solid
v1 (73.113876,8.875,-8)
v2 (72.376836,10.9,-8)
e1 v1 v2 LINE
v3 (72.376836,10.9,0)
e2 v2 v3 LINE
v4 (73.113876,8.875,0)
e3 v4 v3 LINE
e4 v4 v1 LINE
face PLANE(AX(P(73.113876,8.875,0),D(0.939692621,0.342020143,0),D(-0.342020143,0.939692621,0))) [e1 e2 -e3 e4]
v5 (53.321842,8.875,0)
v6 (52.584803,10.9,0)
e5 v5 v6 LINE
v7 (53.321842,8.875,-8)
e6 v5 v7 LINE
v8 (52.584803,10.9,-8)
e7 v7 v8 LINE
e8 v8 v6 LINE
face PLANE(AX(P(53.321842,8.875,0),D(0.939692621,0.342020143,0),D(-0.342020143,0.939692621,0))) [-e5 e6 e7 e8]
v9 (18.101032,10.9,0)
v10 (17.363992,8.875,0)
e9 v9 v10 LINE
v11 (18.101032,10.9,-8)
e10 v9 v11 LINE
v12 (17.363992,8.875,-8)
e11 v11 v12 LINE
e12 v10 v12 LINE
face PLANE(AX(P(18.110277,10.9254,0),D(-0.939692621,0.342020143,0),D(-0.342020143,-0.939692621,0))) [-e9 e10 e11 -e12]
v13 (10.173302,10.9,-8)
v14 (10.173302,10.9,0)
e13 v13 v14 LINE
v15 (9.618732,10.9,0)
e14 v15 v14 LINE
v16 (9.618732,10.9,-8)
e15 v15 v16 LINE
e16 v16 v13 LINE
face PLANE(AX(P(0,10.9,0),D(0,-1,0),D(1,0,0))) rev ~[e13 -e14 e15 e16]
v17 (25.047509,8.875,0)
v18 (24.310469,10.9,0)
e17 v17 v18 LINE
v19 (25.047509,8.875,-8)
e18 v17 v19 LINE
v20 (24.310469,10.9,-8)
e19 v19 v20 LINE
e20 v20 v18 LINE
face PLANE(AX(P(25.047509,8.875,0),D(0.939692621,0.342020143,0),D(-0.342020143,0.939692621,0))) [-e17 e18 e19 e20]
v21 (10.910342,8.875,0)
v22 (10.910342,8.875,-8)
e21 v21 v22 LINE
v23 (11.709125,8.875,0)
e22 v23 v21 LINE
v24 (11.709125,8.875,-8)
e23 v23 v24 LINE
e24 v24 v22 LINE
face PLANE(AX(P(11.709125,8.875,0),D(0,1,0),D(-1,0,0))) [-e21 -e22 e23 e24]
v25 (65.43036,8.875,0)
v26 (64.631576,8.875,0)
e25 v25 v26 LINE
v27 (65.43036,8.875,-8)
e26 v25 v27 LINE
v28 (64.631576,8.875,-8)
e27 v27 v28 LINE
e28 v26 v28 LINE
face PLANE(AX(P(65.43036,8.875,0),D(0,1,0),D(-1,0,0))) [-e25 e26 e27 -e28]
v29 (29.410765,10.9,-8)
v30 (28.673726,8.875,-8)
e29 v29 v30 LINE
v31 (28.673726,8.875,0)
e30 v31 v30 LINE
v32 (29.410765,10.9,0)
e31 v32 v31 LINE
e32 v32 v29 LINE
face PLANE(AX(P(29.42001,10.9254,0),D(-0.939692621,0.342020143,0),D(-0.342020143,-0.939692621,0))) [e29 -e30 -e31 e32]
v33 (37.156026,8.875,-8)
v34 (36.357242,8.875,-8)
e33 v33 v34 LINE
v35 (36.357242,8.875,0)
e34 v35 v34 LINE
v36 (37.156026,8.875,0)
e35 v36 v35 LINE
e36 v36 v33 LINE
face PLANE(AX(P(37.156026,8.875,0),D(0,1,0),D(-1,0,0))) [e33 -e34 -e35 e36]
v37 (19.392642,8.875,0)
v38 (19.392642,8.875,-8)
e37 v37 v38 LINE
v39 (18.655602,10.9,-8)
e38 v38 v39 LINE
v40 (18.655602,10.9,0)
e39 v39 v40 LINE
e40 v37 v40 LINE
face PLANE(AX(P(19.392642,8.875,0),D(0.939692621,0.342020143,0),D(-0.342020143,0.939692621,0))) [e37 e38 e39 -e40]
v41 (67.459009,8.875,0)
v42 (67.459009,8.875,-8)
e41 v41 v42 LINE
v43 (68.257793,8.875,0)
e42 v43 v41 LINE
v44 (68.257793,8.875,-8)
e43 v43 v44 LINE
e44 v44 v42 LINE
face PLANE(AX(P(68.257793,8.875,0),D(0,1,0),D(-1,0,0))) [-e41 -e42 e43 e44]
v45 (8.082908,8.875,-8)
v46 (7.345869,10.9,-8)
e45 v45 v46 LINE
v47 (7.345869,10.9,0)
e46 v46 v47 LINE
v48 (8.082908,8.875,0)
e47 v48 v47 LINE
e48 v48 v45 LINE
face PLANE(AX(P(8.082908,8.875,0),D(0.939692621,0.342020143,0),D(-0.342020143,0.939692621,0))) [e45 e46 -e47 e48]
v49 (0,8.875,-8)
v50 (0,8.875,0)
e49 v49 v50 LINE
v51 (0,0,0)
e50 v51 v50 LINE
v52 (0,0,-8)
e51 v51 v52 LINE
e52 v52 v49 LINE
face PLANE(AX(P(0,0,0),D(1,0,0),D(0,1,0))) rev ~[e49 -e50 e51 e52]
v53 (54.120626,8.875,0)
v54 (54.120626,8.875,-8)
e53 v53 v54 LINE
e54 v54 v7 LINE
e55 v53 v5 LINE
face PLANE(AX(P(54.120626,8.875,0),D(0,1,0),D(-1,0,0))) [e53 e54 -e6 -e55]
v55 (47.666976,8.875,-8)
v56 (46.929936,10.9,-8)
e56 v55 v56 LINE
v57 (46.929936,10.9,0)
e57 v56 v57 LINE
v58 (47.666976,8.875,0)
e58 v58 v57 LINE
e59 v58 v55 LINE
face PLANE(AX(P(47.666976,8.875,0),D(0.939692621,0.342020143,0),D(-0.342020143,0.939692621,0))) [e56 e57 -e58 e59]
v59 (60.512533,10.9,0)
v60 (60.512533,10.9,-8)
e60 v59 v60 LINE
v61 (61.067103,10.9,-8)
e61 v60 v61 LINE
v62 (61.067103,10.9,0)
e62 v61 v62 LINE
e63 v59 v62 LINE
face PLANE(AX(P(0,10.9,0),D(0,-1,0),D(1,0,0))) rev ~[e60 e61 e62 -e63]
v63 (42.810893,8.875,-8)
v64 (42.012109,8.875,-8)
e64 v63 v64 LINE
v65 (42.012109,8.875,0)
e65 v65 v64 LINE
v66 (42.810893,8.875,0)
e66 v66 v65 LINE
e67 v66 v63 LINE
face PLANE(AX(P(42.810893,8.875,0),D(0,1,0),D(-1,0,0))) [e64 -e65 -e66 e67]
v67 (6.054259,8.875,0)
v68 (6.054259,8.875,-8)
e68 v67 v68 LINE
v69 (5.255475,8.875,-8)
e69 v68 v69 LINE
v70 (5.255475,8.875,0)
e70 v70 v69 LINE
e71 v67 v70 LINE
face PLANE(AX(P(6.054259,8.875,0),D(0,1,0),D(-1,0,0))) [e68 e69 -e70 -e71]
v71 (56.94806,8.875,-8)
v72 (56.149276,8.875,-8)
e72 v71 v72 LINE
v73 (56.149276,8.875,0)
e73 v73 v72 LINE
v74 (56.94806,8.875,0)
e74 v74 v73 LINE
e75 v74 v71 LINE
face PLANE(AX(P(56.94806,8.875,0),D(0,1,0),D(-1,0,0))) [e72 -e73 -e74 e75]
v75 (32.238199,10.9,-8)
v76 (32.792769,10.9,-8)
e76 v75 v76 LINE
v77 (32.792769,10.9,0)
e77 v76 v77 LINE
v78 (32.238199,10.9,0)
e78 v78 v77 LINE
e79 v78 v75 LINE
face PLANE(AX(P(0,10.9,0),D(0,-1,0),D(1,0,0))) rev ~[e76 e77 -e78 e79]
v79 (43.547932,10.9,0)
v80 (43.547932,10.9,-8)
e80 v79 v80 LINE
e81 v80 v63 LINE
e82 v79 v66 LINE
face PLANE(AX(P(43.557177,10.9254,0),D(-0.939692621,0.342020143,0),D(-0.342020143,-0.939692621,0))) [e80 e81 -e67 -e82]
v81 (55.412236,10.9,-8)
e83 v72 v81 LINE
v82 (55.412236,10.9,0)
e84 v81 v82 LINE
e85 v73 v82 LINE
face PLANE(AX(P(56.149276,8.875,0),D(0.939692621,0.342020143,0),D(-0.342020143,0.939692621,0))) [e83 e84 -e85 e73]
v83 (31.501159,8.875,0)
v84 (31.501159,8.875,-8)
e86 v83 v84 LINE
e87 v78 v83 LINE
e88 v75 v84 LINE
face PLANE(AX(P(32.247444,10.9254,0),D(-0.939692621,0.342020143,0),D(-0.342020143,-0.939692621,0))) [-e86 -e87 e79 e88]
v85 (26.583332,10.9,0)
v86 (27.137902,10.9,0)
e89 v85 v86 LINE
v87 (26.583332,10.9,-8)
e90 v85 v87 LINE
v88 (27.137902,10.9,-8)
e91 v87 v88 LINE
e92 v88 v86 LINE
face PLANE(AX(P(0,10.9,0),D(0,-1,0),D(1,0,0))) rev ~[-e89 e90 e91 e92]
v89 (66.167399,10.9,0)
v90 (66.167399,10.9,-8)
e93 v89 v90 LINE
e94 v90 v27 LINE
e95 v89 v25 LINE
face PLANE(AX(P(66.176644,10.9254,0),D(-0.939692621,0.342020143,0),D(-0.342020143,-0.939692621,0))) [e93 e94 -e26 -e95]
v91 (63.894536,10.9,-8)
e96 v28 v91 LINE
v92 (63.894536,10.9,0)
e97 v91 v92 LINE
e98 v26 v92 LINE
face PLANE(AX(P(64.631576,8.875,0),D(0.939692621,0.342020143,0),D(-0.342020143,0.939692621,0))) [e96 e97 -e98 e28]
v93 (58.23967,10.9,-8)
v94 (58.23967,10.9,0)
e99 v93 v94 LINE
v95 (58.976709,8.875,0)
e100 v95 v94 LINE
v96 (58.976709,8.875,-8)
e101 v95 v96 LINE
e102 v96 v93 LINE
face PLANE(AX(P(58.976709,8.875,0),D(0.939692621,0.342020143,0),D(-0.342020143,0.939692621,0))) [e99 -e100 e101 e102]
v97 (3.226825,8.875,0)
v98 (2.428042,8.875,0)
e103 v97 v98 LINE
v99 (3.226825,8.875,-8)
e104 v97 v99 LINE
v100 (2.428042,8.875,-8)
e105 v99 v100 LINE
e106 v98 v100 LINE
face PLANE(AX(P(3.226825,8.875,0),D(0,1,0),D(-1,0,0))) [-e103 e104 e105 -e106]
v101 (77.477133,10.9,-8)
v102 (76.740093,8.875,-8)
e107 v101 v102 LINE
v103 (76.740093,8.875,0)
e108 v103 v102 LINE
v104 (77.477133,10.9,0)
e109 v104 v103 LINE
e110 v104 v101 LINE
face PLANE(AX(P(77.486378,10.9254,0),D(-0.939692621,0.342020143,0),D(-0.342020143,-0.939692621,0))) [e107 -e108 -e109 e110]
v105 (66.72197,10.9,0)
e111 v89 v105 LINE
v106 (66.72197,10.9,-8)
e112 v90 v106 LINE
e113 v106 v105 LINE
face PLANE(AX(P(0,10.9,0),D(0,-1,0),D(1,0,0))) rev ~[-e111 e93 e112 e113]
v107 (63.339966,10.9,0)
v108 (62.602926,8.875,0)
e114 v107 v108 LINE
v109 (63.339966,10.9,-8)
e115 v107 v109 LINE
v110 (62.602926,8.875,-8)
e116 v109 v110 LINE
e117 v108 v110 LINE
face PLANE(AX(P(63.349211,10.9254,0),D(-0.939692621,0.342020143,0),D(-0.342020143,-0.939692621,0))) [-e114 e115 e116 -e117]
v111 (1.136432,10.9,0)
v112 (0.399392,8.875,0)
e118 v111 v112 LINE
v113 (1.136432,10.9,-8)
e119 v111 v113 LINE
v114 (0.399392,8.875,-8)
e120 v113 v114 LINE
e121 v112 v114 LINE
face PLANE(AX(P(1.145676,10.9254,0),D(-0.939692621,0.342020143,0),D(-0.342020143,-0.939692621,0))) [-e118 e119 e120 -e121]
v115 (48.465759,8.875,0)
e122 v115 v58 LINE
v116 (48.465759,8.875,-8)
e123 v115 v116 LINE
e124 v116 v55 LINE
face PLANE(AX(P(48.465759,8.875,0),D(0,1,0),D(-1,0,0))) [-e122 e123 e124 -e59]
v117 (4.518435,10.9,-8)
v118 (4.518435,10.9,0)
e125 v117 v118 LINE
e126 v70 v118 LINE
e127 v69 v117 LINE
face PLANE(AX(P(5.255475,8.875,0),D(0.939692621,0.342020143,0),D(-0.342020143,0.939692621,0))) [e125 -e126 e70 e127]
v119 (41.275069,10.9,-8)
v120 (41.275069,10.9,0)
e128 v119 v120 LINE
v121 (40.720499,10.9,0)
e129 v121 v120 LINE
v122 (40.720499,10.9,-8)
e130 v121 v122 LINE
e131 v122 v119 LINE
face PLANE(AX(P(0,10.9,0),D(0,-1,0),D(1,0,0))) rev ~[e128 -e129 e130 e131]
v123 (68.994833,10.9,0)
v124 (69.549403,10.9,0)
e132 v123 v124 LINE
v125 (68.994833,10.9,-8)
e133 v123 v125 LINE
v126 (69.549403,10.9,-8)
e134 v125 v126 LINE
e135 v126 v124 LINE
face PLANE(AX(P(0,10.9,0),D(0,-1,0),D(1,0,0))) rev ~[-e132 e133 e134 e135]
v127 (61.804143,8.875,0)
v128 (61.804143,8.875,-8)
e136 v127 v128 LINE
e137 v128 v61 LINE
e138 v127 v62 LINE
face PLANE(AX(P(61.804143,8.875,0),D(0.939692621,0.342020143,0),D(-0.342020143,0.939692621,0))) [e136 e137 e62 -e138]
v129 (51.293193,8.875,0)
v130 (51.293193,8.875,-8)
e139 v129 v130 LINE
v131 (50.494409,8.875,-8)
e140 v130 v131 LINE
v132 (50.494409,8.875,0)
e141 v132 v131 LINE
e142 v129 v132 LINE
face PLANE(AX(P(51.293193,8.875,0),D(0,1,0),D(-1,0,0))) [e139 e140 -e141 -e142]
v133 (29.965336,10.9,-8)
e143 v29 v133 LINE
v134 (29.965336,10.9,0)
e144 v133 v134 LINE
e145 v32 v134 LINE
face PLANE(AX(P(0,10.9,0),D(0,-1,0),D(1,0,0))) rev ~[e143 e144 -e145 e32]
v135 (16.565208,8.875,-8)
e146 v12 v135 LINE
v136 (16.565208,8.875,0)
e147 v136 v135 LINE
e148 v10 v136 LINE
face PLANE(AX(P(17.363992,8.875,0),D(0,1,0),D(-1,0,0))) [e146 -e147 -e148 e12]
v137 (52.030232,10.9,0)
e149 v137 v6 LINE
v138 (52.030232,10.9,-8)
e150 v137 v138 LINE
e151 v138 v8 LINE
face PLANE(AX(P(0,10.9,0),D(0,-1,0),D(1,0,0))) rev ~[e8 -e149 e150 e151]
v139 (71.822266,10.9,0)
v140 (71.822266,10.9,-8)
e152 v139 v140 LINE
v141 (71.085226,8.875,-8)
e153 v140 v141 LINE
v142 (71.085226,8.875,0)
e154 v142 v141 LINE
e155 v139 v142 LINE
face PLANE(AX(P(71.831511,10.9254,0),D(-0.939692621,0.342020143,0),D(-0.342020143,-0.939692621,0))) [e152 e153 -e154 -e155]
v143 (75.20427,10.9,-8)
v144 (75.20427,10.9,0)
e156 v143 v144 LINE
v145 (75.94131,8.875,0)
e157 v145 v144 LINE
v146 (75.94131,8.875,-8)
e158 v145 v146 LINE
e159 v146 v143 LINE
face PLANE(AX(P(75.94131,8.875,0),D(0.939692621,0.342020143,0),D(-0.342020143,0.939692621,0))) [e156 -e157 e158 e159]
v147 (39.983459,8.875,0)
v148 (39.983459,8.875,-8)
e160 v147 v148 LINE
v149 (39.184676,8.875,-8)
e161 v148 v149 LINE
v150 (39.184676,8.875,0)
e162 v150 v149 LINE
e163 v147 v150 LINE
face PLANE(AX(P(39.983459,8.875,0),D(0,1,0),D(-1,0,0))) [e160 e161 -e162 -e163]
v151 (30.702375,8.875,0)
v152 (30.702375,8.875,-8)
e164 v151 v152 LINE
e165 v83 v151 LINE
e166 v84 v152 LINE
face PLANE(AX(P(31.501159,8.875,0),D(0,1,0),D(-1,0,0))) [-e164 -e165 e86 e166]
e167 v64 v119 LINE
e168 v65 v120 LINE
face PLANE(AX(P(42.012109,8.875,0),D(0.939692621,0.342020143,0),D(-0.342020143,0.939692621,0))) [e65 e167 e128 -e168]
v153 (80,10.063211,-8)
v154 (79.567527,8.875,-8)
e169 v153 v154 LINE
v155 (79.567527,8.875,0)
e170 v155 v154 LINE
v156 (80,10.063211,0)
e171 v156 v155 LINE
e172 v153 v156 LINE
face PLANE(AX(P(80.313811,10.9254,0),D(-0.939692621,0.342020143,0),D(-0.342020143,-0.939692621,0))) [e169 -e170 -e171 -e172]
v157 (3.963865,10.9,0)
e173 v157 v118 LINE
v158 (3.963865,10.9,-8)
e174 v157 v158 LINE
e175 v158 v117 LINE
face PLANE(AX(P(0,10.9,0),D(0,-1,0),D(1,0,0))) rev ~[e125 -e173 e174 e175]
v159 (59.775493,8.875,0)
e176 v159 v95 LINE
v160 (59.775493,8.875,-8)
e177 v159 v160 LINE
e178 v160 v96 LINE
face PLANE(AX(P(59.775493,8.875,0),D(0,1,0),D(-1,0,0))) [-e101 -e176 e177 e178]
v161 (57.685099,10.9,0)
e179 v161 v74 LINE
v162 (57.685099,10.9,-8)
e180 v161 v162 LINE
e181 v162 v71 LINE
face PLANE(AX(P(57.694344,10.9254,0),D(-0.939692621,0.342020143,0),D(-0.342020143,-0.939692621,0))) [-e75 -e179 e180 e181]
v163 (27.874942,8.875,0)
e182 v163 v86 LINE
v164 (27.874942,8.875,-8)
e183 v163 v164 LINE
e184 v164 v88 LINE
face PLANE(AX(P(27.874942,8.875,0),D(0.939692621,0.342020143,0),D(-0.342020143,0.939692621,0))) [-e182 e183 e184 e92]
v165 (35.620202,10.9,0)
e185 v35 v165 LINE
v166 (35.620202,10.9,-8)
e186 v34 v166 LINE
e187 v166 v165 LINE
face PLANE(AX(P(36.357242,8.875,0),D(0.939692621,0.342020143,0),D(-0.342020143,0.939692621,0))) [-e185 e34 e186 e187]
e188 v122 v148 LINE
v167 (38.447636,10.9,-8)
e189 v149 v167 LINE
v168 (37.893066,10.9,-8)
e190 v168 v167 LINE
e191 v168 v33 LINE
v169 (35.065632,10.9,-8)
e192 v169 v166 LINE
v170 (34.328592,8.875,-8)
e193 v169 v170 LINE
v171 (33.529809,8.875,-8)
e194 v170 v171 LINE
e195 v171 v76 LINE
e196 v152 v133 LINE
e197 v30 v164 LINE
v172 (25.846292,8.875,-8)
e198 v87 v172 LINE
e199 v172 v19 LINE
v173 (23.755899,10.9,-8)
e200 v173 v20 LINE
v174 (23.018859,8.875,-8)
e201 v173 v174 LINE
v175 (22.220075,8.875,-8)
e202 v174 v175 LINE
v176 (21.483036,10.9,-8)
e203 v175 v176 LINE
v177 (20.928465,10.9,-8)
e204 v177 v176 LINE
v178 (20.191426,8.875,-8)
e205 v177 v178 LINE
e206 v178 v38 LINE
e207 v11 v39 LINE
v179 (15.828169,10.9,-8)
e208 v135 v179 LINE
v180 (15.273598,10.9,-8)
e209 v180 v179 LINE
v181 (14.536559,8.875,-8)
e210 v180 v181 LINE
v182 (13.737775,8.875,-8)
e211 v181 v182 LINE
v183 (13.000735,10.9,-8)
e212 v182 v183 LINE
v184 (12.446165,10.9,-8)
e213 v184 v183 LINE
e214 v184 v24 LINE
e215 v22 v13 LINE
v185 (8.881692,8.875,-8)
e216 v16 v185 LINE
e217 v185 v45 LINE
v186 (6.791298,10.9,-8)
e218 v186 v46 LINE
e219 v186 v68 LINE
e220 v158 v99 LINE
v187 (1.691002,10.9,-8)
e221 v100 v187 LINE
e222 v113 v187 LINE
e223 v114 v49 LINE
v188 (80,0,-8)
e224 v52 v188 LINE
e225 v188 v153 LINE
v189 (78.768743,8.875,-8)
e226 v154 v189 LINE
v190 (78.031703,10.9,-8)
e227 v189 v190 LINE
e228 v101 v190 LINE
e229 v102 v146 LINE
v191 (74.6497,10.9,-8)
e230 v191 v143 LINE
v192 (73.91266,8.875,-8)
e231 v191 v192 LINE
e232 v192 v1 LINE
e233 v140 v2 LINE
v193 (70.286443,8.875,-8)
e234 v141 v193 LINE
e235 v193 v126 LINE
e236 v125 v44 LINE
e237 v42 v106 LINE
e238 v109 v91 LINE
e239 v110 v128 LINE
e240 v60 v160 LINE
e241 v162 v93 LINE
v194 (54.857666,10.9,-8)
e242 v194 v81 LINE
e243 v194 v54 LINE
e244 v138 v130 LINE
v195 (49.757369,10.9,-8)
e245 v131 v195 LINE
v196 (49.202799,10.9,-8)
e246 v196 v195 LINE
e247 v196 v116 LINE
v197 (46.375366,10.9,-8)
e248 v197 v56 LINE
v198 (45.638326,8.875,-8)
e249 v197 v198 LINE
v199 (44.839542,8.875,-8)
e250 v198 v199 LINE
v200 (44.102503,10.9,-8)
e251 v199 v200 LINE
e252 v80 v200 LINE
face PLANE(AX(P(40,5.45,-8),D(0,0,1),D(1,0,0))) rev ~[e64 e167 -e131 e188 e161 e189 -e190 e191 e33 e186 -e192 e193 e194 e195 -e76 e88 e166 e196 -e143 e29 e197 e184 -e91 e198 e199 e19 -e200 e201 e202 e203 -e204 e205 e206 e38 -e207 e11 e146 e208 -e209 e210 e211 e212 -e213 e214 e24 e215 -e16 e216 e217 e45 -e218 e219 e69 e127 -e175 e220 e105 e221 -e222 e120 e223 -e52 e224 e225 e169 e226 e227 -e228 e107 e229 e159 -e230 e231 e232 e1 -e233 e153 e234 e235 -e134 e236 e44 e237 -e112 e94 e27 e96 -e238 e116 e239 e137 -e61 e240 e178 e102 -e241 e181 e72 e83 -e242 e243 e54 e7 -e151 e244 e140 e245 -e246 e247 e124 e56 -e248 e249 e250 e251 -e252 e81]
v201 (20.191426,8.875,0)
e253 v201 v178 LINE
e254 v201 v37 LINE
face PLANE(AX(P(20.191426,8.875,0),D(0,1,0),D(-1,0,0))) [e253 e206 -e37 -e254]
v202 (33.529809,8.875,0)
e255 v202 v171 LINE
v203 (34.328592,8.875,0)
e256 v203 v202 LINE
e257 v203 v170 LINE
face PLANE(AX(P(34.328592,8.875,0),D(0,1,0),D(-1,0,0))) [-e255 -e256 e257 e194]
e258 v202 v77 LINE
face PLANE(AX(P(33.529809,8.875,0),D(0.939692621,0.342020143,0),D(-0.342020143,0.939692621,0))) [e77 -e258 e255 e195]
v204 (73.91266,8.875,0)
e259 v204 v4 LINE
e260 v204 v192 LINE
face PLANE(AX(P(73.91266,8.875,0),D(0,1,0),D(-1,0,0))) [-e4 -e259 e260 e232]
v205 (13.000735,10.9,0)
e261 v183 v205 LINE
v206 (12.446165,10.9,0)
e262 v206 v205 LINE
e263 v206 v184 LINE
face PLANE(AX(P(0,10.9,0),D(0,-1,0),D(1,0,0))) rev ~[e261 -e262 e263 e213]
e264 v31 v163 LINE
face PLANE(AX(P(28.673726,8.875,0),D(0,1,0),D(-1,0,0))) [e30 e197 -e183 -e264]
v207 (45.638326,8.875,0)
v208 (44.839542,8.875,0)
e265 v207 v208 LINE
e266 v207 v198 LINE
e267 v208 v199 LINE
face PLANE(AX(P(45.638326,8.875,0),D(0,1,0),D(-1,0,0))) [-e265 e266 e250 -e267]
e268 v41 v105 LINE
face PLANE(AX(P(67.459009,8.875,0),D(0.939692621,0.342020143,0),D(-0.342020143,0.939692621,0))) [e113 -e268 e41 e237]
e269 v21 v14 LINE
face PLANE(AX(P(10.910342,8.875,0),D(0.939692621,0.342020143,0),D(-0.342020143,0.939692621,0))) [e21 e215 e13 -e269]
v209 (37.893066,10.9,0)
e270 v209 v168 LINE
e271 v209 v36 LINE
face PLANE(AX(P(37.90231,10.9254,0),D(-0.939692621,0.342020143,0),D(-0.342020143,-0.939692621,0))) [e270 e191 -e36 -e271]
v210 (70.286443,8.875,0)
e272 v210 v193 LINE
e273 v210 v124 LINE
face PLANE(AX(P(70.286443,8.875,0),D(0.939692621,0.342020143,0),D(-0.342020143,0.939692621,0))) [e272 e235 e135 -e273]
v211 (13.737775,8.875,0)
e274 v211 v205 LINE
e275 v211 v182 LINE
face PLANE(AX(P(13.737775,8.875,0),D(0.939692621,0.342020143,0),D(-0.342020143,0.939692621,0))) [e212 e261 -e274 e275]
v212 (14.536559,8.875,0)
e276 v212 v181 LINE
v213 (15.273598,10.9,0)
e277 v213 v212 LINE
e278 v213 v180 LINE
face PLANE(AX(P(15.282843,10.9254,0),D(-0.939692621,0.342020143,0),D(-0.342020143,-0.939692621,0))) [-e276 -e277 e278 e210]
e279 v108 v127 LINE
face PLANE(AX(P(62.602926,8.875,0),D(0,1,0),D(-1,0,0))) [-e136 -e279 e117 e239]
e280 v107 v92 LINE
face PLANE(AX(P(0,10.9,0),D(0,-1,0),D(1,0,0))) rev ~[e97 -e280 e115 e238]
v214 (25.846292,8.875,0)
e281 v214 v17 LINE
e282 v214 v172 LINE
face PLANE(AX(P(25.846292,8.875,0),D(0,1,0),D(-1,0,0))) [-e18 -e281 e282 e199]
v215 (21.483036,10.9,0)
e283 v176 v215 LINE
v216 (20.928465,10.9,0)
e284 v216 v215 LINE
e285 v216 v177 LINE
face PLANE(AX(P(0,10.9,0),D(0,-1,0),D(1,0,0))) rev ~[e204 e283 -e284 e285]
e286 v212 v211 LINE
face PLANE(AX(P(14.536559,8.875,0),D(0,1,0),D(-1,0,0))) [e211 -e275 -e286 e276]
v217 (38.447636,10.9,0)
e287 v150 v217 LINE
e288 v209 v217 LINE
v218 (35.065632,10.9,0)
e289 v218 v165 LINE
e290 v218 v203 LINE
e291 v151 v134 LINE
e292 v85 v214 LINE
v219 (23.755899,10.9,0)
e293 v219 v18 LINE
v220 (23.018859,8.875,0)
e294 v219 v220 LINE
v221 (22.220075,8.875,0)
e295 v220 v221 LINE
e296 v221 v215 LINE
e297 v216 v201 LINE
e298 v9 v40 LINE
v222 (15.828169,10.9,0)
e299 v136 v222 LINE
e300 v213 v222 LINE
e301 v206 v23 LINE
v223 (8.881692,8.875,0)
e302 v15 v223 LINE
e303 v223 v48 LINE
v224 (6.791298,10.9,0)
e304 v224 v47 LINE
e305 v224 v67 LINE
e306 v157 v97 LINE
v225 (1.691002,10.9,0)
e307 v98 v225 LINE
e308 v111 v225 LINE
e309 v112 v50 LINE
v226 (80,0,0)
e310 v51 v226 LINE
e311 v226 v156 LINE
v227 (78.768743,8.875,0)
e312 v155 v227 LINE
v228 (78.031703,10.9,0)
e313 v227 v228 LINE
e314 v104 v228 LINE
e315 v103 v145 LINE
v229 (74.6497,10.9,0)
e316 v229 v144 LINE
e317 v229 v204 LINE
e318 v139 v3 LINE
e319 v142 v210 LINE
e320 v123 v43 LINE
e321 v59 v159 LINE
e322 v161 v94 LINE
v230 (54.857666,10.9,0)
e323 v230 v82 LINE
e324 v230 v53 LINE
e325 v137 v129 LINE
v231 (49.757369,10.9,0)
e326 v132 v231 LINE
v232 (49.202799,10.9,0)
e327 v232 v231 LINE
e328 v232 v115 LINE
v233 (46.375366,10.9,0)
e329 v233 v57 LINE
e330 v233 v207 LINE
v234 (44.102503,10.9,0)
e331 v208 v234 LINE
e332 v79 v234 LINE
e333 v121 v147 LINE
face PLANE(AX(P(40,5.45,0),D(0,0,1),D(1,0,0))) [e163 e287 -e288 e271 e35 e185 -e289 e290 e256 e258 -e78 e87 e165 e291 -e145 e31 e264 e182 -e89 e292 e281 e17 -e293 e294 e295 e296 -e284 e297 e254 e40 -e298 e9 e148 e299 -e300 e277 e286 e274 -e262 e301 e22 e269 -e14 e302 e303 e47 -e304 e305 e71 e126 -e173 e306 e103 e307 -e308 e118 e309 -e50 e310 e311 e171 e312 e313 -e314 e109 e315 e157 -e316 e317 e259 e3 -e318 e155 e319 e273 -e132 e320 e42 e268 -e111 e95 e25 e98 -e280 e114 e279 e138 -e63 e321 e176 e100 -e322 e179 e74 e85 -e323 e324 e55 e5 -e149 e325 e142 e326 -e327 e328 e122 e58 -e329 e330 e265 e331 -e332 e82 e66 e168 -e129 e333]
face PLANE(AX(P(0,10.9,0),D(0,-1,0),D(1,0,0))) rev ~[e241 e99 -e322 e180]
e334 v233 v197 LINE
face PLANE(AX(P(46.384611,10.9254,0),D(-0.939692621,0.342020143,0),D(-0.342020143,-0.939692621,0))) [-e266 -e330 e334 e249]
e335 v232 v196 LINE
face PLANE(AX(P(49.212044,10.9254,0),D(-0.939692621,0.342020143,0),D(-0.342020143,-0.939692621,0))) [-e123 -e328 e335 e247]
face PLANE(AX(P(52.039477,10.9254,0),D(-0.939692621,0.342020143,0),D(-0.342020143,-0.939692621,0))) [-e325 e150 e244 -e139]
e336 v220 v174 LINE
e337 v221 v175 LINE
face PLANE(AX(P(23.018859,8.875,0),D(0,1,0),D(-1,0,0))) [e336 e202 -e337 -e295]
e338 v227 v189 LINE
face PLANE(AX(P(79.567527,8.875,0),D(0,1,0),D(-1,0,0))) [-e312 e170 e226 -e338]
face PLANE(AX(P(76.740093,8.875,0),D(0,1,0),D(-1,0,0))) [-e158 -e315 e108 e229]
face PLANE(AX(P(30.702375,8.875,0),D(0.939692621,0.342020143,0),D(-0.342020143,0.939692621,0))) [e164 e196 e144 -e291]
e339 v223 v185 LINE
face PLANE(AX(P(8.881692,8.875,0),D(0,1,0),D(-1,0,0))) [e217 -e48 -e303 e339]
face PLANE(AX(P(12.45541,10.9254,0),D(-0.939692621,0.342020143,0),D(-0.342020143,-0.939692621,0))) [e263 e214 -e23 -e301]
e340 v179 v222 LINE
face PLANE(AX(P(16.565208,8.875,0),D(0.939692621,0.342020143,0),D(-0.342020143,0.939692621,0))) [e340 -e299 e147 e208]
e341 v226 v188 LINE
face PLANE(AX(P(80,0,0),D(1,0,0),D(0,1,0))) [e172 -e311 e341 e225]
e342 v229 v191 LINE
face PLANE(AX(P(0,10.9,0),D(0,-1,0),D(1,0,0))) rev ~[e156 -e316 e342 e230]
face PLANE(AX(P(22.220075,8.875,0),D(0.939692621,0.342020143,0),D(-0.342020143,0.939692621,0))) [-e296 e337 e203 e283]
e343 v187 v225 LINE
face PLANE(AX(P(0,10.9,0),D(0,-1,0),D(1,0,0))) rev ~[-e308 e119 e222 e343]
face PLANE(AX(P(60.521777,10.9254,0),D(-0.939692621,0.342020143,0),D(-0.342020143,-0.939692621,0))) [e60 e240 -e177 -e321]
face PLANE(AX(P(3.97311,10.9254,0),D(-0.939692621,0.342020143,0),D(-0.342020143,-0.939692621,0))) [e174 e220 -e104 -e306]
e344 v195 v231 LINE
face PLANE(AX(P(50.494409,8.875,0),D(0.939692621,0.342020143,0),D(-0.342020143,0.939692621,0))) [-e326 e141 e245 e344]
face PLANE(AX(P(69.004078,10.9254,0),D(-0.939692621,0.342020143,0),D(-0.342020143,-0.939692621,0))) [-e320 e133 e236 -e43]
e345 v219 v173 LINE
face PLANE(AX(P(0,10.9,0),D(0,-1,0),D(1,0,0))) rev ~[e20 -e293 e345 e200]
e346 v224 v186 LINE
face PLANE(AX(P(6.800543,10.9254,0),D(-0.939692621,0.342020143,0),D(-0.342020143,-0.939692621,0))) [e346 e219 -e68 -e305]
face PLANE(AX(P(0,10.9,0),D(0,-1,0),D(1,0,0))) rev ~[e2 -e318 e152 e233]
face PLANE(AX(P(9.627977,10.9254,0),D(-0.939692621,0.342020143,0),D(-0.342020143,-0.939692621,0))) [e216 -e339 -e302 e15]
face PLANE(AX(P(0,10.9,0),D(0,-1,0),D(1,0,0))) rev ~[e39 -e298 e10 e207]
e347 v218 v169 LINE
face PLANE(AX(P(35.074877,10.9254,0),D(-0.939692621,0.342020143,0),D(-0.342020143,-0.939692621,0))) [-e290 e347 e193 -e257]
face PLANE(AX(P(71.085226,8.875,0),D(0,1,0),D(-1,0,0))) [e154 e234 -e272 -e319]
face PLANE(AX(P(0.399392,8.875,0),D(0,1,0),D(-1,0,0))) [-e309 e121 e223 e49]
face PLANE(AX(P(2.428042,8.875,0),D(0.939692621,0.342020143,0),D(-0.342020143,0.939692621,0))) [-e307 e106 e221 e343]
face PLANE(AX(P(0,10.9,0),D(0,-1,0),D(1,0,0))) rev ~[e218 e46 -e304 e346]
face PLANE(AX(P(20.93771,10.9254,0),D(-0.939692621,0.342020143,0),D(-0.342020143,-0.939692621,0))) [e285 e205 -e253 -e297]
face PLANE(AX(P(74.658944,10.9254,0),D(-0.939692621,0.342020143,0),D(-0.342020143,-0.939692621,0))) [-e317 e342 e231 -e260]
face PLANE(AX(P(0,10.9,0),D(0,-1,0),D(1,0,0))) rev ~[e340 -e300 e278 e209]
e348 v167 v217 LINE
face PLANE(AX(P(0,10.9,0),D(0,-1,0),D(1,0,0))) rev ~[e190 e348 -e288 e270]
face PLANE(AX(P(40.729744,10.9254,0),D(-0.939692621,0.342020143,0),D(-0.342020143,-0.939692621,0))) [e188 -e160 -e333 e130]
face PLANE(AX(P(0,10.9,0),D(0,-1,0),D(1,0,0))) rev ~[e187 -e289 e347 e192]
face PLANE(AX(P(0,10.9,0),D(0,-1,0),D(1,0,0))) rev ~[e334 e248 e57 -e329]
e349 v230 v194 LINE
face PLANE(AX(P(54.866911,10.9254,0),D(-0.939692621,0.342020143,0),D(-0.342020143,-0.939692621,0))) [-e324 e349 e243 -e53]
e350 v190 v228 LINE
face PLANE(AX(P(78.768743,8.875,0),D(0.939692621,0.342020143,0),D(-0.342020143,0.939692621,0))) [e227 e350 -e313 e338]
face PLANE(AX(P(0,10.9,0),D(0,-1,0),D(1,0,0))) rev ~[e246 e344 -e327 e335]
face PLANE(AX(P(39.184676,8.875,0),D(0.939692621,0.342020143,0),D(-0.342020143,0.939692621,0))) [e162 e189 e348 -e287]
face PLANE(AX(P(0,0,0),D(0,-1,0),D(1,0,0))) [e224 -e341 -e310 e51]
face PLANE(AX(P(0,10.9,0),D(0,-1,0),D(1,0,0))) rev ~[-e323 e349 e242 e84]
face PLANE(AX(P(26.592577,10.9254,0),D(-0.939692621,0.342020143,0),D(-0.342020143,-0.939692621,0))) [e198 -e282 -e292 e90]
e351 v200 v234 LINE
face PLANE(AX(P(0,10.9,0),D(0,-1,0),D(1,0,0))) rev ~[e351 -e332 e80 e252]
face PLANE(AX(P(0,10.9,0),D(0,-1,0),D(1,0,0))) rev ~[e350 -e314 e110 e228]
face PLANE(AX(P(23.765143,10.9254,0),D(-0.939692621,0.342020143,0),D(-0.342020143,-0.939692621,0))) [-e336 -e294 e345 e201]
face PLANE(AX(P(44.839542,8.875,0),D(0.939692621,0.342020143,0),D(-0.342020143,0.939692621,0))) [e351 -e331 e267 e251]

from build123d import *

# Parameters (mm, degrees)
BLANKSKE_W        = 80
BLANKSKE_H        = 10.9
BLANK_DEPTH       = 8
TOOTHCUTSIM_DEPTH = 82.134517932
TEETHCUTS_COUNT   = 29
TEETHCUTS_PITCH   = 2.827433385


with BuildPart() as part:
    # BlankSke → Blank (new body)
    with BuildSketch(Plane.XY):
        with Locations((40, 5.45)):
            Rectangle(BLANKSKE_W, BLANKSKE_H)
    extrude(amount=-BLANK_DEPTH)

    # TooCutSkeSim → ToothCutSim (cut, through all)
    with BuildSketch(Plane.XY):
        Polygon((0.399391833, 8.875), (-0.399391833, 8.875), (-1.145676401, 10.9254), (1.145676401, 10.9254), align=None)
    toothcutsim = extrude(amount=-TOOTHCUTSIM_DEPTH, mode=Mode.SUBTRACT)

    # TeethCuts: ToothCutSim ×29
    with Locations(*[(i * TEETHCUTS_PITCH, 0, 0) for i in range(1, TEETHCUTS_COUNT)]):
        add(toothcutsim, mode=Mode.SUBTRACT)


solid = part.part
